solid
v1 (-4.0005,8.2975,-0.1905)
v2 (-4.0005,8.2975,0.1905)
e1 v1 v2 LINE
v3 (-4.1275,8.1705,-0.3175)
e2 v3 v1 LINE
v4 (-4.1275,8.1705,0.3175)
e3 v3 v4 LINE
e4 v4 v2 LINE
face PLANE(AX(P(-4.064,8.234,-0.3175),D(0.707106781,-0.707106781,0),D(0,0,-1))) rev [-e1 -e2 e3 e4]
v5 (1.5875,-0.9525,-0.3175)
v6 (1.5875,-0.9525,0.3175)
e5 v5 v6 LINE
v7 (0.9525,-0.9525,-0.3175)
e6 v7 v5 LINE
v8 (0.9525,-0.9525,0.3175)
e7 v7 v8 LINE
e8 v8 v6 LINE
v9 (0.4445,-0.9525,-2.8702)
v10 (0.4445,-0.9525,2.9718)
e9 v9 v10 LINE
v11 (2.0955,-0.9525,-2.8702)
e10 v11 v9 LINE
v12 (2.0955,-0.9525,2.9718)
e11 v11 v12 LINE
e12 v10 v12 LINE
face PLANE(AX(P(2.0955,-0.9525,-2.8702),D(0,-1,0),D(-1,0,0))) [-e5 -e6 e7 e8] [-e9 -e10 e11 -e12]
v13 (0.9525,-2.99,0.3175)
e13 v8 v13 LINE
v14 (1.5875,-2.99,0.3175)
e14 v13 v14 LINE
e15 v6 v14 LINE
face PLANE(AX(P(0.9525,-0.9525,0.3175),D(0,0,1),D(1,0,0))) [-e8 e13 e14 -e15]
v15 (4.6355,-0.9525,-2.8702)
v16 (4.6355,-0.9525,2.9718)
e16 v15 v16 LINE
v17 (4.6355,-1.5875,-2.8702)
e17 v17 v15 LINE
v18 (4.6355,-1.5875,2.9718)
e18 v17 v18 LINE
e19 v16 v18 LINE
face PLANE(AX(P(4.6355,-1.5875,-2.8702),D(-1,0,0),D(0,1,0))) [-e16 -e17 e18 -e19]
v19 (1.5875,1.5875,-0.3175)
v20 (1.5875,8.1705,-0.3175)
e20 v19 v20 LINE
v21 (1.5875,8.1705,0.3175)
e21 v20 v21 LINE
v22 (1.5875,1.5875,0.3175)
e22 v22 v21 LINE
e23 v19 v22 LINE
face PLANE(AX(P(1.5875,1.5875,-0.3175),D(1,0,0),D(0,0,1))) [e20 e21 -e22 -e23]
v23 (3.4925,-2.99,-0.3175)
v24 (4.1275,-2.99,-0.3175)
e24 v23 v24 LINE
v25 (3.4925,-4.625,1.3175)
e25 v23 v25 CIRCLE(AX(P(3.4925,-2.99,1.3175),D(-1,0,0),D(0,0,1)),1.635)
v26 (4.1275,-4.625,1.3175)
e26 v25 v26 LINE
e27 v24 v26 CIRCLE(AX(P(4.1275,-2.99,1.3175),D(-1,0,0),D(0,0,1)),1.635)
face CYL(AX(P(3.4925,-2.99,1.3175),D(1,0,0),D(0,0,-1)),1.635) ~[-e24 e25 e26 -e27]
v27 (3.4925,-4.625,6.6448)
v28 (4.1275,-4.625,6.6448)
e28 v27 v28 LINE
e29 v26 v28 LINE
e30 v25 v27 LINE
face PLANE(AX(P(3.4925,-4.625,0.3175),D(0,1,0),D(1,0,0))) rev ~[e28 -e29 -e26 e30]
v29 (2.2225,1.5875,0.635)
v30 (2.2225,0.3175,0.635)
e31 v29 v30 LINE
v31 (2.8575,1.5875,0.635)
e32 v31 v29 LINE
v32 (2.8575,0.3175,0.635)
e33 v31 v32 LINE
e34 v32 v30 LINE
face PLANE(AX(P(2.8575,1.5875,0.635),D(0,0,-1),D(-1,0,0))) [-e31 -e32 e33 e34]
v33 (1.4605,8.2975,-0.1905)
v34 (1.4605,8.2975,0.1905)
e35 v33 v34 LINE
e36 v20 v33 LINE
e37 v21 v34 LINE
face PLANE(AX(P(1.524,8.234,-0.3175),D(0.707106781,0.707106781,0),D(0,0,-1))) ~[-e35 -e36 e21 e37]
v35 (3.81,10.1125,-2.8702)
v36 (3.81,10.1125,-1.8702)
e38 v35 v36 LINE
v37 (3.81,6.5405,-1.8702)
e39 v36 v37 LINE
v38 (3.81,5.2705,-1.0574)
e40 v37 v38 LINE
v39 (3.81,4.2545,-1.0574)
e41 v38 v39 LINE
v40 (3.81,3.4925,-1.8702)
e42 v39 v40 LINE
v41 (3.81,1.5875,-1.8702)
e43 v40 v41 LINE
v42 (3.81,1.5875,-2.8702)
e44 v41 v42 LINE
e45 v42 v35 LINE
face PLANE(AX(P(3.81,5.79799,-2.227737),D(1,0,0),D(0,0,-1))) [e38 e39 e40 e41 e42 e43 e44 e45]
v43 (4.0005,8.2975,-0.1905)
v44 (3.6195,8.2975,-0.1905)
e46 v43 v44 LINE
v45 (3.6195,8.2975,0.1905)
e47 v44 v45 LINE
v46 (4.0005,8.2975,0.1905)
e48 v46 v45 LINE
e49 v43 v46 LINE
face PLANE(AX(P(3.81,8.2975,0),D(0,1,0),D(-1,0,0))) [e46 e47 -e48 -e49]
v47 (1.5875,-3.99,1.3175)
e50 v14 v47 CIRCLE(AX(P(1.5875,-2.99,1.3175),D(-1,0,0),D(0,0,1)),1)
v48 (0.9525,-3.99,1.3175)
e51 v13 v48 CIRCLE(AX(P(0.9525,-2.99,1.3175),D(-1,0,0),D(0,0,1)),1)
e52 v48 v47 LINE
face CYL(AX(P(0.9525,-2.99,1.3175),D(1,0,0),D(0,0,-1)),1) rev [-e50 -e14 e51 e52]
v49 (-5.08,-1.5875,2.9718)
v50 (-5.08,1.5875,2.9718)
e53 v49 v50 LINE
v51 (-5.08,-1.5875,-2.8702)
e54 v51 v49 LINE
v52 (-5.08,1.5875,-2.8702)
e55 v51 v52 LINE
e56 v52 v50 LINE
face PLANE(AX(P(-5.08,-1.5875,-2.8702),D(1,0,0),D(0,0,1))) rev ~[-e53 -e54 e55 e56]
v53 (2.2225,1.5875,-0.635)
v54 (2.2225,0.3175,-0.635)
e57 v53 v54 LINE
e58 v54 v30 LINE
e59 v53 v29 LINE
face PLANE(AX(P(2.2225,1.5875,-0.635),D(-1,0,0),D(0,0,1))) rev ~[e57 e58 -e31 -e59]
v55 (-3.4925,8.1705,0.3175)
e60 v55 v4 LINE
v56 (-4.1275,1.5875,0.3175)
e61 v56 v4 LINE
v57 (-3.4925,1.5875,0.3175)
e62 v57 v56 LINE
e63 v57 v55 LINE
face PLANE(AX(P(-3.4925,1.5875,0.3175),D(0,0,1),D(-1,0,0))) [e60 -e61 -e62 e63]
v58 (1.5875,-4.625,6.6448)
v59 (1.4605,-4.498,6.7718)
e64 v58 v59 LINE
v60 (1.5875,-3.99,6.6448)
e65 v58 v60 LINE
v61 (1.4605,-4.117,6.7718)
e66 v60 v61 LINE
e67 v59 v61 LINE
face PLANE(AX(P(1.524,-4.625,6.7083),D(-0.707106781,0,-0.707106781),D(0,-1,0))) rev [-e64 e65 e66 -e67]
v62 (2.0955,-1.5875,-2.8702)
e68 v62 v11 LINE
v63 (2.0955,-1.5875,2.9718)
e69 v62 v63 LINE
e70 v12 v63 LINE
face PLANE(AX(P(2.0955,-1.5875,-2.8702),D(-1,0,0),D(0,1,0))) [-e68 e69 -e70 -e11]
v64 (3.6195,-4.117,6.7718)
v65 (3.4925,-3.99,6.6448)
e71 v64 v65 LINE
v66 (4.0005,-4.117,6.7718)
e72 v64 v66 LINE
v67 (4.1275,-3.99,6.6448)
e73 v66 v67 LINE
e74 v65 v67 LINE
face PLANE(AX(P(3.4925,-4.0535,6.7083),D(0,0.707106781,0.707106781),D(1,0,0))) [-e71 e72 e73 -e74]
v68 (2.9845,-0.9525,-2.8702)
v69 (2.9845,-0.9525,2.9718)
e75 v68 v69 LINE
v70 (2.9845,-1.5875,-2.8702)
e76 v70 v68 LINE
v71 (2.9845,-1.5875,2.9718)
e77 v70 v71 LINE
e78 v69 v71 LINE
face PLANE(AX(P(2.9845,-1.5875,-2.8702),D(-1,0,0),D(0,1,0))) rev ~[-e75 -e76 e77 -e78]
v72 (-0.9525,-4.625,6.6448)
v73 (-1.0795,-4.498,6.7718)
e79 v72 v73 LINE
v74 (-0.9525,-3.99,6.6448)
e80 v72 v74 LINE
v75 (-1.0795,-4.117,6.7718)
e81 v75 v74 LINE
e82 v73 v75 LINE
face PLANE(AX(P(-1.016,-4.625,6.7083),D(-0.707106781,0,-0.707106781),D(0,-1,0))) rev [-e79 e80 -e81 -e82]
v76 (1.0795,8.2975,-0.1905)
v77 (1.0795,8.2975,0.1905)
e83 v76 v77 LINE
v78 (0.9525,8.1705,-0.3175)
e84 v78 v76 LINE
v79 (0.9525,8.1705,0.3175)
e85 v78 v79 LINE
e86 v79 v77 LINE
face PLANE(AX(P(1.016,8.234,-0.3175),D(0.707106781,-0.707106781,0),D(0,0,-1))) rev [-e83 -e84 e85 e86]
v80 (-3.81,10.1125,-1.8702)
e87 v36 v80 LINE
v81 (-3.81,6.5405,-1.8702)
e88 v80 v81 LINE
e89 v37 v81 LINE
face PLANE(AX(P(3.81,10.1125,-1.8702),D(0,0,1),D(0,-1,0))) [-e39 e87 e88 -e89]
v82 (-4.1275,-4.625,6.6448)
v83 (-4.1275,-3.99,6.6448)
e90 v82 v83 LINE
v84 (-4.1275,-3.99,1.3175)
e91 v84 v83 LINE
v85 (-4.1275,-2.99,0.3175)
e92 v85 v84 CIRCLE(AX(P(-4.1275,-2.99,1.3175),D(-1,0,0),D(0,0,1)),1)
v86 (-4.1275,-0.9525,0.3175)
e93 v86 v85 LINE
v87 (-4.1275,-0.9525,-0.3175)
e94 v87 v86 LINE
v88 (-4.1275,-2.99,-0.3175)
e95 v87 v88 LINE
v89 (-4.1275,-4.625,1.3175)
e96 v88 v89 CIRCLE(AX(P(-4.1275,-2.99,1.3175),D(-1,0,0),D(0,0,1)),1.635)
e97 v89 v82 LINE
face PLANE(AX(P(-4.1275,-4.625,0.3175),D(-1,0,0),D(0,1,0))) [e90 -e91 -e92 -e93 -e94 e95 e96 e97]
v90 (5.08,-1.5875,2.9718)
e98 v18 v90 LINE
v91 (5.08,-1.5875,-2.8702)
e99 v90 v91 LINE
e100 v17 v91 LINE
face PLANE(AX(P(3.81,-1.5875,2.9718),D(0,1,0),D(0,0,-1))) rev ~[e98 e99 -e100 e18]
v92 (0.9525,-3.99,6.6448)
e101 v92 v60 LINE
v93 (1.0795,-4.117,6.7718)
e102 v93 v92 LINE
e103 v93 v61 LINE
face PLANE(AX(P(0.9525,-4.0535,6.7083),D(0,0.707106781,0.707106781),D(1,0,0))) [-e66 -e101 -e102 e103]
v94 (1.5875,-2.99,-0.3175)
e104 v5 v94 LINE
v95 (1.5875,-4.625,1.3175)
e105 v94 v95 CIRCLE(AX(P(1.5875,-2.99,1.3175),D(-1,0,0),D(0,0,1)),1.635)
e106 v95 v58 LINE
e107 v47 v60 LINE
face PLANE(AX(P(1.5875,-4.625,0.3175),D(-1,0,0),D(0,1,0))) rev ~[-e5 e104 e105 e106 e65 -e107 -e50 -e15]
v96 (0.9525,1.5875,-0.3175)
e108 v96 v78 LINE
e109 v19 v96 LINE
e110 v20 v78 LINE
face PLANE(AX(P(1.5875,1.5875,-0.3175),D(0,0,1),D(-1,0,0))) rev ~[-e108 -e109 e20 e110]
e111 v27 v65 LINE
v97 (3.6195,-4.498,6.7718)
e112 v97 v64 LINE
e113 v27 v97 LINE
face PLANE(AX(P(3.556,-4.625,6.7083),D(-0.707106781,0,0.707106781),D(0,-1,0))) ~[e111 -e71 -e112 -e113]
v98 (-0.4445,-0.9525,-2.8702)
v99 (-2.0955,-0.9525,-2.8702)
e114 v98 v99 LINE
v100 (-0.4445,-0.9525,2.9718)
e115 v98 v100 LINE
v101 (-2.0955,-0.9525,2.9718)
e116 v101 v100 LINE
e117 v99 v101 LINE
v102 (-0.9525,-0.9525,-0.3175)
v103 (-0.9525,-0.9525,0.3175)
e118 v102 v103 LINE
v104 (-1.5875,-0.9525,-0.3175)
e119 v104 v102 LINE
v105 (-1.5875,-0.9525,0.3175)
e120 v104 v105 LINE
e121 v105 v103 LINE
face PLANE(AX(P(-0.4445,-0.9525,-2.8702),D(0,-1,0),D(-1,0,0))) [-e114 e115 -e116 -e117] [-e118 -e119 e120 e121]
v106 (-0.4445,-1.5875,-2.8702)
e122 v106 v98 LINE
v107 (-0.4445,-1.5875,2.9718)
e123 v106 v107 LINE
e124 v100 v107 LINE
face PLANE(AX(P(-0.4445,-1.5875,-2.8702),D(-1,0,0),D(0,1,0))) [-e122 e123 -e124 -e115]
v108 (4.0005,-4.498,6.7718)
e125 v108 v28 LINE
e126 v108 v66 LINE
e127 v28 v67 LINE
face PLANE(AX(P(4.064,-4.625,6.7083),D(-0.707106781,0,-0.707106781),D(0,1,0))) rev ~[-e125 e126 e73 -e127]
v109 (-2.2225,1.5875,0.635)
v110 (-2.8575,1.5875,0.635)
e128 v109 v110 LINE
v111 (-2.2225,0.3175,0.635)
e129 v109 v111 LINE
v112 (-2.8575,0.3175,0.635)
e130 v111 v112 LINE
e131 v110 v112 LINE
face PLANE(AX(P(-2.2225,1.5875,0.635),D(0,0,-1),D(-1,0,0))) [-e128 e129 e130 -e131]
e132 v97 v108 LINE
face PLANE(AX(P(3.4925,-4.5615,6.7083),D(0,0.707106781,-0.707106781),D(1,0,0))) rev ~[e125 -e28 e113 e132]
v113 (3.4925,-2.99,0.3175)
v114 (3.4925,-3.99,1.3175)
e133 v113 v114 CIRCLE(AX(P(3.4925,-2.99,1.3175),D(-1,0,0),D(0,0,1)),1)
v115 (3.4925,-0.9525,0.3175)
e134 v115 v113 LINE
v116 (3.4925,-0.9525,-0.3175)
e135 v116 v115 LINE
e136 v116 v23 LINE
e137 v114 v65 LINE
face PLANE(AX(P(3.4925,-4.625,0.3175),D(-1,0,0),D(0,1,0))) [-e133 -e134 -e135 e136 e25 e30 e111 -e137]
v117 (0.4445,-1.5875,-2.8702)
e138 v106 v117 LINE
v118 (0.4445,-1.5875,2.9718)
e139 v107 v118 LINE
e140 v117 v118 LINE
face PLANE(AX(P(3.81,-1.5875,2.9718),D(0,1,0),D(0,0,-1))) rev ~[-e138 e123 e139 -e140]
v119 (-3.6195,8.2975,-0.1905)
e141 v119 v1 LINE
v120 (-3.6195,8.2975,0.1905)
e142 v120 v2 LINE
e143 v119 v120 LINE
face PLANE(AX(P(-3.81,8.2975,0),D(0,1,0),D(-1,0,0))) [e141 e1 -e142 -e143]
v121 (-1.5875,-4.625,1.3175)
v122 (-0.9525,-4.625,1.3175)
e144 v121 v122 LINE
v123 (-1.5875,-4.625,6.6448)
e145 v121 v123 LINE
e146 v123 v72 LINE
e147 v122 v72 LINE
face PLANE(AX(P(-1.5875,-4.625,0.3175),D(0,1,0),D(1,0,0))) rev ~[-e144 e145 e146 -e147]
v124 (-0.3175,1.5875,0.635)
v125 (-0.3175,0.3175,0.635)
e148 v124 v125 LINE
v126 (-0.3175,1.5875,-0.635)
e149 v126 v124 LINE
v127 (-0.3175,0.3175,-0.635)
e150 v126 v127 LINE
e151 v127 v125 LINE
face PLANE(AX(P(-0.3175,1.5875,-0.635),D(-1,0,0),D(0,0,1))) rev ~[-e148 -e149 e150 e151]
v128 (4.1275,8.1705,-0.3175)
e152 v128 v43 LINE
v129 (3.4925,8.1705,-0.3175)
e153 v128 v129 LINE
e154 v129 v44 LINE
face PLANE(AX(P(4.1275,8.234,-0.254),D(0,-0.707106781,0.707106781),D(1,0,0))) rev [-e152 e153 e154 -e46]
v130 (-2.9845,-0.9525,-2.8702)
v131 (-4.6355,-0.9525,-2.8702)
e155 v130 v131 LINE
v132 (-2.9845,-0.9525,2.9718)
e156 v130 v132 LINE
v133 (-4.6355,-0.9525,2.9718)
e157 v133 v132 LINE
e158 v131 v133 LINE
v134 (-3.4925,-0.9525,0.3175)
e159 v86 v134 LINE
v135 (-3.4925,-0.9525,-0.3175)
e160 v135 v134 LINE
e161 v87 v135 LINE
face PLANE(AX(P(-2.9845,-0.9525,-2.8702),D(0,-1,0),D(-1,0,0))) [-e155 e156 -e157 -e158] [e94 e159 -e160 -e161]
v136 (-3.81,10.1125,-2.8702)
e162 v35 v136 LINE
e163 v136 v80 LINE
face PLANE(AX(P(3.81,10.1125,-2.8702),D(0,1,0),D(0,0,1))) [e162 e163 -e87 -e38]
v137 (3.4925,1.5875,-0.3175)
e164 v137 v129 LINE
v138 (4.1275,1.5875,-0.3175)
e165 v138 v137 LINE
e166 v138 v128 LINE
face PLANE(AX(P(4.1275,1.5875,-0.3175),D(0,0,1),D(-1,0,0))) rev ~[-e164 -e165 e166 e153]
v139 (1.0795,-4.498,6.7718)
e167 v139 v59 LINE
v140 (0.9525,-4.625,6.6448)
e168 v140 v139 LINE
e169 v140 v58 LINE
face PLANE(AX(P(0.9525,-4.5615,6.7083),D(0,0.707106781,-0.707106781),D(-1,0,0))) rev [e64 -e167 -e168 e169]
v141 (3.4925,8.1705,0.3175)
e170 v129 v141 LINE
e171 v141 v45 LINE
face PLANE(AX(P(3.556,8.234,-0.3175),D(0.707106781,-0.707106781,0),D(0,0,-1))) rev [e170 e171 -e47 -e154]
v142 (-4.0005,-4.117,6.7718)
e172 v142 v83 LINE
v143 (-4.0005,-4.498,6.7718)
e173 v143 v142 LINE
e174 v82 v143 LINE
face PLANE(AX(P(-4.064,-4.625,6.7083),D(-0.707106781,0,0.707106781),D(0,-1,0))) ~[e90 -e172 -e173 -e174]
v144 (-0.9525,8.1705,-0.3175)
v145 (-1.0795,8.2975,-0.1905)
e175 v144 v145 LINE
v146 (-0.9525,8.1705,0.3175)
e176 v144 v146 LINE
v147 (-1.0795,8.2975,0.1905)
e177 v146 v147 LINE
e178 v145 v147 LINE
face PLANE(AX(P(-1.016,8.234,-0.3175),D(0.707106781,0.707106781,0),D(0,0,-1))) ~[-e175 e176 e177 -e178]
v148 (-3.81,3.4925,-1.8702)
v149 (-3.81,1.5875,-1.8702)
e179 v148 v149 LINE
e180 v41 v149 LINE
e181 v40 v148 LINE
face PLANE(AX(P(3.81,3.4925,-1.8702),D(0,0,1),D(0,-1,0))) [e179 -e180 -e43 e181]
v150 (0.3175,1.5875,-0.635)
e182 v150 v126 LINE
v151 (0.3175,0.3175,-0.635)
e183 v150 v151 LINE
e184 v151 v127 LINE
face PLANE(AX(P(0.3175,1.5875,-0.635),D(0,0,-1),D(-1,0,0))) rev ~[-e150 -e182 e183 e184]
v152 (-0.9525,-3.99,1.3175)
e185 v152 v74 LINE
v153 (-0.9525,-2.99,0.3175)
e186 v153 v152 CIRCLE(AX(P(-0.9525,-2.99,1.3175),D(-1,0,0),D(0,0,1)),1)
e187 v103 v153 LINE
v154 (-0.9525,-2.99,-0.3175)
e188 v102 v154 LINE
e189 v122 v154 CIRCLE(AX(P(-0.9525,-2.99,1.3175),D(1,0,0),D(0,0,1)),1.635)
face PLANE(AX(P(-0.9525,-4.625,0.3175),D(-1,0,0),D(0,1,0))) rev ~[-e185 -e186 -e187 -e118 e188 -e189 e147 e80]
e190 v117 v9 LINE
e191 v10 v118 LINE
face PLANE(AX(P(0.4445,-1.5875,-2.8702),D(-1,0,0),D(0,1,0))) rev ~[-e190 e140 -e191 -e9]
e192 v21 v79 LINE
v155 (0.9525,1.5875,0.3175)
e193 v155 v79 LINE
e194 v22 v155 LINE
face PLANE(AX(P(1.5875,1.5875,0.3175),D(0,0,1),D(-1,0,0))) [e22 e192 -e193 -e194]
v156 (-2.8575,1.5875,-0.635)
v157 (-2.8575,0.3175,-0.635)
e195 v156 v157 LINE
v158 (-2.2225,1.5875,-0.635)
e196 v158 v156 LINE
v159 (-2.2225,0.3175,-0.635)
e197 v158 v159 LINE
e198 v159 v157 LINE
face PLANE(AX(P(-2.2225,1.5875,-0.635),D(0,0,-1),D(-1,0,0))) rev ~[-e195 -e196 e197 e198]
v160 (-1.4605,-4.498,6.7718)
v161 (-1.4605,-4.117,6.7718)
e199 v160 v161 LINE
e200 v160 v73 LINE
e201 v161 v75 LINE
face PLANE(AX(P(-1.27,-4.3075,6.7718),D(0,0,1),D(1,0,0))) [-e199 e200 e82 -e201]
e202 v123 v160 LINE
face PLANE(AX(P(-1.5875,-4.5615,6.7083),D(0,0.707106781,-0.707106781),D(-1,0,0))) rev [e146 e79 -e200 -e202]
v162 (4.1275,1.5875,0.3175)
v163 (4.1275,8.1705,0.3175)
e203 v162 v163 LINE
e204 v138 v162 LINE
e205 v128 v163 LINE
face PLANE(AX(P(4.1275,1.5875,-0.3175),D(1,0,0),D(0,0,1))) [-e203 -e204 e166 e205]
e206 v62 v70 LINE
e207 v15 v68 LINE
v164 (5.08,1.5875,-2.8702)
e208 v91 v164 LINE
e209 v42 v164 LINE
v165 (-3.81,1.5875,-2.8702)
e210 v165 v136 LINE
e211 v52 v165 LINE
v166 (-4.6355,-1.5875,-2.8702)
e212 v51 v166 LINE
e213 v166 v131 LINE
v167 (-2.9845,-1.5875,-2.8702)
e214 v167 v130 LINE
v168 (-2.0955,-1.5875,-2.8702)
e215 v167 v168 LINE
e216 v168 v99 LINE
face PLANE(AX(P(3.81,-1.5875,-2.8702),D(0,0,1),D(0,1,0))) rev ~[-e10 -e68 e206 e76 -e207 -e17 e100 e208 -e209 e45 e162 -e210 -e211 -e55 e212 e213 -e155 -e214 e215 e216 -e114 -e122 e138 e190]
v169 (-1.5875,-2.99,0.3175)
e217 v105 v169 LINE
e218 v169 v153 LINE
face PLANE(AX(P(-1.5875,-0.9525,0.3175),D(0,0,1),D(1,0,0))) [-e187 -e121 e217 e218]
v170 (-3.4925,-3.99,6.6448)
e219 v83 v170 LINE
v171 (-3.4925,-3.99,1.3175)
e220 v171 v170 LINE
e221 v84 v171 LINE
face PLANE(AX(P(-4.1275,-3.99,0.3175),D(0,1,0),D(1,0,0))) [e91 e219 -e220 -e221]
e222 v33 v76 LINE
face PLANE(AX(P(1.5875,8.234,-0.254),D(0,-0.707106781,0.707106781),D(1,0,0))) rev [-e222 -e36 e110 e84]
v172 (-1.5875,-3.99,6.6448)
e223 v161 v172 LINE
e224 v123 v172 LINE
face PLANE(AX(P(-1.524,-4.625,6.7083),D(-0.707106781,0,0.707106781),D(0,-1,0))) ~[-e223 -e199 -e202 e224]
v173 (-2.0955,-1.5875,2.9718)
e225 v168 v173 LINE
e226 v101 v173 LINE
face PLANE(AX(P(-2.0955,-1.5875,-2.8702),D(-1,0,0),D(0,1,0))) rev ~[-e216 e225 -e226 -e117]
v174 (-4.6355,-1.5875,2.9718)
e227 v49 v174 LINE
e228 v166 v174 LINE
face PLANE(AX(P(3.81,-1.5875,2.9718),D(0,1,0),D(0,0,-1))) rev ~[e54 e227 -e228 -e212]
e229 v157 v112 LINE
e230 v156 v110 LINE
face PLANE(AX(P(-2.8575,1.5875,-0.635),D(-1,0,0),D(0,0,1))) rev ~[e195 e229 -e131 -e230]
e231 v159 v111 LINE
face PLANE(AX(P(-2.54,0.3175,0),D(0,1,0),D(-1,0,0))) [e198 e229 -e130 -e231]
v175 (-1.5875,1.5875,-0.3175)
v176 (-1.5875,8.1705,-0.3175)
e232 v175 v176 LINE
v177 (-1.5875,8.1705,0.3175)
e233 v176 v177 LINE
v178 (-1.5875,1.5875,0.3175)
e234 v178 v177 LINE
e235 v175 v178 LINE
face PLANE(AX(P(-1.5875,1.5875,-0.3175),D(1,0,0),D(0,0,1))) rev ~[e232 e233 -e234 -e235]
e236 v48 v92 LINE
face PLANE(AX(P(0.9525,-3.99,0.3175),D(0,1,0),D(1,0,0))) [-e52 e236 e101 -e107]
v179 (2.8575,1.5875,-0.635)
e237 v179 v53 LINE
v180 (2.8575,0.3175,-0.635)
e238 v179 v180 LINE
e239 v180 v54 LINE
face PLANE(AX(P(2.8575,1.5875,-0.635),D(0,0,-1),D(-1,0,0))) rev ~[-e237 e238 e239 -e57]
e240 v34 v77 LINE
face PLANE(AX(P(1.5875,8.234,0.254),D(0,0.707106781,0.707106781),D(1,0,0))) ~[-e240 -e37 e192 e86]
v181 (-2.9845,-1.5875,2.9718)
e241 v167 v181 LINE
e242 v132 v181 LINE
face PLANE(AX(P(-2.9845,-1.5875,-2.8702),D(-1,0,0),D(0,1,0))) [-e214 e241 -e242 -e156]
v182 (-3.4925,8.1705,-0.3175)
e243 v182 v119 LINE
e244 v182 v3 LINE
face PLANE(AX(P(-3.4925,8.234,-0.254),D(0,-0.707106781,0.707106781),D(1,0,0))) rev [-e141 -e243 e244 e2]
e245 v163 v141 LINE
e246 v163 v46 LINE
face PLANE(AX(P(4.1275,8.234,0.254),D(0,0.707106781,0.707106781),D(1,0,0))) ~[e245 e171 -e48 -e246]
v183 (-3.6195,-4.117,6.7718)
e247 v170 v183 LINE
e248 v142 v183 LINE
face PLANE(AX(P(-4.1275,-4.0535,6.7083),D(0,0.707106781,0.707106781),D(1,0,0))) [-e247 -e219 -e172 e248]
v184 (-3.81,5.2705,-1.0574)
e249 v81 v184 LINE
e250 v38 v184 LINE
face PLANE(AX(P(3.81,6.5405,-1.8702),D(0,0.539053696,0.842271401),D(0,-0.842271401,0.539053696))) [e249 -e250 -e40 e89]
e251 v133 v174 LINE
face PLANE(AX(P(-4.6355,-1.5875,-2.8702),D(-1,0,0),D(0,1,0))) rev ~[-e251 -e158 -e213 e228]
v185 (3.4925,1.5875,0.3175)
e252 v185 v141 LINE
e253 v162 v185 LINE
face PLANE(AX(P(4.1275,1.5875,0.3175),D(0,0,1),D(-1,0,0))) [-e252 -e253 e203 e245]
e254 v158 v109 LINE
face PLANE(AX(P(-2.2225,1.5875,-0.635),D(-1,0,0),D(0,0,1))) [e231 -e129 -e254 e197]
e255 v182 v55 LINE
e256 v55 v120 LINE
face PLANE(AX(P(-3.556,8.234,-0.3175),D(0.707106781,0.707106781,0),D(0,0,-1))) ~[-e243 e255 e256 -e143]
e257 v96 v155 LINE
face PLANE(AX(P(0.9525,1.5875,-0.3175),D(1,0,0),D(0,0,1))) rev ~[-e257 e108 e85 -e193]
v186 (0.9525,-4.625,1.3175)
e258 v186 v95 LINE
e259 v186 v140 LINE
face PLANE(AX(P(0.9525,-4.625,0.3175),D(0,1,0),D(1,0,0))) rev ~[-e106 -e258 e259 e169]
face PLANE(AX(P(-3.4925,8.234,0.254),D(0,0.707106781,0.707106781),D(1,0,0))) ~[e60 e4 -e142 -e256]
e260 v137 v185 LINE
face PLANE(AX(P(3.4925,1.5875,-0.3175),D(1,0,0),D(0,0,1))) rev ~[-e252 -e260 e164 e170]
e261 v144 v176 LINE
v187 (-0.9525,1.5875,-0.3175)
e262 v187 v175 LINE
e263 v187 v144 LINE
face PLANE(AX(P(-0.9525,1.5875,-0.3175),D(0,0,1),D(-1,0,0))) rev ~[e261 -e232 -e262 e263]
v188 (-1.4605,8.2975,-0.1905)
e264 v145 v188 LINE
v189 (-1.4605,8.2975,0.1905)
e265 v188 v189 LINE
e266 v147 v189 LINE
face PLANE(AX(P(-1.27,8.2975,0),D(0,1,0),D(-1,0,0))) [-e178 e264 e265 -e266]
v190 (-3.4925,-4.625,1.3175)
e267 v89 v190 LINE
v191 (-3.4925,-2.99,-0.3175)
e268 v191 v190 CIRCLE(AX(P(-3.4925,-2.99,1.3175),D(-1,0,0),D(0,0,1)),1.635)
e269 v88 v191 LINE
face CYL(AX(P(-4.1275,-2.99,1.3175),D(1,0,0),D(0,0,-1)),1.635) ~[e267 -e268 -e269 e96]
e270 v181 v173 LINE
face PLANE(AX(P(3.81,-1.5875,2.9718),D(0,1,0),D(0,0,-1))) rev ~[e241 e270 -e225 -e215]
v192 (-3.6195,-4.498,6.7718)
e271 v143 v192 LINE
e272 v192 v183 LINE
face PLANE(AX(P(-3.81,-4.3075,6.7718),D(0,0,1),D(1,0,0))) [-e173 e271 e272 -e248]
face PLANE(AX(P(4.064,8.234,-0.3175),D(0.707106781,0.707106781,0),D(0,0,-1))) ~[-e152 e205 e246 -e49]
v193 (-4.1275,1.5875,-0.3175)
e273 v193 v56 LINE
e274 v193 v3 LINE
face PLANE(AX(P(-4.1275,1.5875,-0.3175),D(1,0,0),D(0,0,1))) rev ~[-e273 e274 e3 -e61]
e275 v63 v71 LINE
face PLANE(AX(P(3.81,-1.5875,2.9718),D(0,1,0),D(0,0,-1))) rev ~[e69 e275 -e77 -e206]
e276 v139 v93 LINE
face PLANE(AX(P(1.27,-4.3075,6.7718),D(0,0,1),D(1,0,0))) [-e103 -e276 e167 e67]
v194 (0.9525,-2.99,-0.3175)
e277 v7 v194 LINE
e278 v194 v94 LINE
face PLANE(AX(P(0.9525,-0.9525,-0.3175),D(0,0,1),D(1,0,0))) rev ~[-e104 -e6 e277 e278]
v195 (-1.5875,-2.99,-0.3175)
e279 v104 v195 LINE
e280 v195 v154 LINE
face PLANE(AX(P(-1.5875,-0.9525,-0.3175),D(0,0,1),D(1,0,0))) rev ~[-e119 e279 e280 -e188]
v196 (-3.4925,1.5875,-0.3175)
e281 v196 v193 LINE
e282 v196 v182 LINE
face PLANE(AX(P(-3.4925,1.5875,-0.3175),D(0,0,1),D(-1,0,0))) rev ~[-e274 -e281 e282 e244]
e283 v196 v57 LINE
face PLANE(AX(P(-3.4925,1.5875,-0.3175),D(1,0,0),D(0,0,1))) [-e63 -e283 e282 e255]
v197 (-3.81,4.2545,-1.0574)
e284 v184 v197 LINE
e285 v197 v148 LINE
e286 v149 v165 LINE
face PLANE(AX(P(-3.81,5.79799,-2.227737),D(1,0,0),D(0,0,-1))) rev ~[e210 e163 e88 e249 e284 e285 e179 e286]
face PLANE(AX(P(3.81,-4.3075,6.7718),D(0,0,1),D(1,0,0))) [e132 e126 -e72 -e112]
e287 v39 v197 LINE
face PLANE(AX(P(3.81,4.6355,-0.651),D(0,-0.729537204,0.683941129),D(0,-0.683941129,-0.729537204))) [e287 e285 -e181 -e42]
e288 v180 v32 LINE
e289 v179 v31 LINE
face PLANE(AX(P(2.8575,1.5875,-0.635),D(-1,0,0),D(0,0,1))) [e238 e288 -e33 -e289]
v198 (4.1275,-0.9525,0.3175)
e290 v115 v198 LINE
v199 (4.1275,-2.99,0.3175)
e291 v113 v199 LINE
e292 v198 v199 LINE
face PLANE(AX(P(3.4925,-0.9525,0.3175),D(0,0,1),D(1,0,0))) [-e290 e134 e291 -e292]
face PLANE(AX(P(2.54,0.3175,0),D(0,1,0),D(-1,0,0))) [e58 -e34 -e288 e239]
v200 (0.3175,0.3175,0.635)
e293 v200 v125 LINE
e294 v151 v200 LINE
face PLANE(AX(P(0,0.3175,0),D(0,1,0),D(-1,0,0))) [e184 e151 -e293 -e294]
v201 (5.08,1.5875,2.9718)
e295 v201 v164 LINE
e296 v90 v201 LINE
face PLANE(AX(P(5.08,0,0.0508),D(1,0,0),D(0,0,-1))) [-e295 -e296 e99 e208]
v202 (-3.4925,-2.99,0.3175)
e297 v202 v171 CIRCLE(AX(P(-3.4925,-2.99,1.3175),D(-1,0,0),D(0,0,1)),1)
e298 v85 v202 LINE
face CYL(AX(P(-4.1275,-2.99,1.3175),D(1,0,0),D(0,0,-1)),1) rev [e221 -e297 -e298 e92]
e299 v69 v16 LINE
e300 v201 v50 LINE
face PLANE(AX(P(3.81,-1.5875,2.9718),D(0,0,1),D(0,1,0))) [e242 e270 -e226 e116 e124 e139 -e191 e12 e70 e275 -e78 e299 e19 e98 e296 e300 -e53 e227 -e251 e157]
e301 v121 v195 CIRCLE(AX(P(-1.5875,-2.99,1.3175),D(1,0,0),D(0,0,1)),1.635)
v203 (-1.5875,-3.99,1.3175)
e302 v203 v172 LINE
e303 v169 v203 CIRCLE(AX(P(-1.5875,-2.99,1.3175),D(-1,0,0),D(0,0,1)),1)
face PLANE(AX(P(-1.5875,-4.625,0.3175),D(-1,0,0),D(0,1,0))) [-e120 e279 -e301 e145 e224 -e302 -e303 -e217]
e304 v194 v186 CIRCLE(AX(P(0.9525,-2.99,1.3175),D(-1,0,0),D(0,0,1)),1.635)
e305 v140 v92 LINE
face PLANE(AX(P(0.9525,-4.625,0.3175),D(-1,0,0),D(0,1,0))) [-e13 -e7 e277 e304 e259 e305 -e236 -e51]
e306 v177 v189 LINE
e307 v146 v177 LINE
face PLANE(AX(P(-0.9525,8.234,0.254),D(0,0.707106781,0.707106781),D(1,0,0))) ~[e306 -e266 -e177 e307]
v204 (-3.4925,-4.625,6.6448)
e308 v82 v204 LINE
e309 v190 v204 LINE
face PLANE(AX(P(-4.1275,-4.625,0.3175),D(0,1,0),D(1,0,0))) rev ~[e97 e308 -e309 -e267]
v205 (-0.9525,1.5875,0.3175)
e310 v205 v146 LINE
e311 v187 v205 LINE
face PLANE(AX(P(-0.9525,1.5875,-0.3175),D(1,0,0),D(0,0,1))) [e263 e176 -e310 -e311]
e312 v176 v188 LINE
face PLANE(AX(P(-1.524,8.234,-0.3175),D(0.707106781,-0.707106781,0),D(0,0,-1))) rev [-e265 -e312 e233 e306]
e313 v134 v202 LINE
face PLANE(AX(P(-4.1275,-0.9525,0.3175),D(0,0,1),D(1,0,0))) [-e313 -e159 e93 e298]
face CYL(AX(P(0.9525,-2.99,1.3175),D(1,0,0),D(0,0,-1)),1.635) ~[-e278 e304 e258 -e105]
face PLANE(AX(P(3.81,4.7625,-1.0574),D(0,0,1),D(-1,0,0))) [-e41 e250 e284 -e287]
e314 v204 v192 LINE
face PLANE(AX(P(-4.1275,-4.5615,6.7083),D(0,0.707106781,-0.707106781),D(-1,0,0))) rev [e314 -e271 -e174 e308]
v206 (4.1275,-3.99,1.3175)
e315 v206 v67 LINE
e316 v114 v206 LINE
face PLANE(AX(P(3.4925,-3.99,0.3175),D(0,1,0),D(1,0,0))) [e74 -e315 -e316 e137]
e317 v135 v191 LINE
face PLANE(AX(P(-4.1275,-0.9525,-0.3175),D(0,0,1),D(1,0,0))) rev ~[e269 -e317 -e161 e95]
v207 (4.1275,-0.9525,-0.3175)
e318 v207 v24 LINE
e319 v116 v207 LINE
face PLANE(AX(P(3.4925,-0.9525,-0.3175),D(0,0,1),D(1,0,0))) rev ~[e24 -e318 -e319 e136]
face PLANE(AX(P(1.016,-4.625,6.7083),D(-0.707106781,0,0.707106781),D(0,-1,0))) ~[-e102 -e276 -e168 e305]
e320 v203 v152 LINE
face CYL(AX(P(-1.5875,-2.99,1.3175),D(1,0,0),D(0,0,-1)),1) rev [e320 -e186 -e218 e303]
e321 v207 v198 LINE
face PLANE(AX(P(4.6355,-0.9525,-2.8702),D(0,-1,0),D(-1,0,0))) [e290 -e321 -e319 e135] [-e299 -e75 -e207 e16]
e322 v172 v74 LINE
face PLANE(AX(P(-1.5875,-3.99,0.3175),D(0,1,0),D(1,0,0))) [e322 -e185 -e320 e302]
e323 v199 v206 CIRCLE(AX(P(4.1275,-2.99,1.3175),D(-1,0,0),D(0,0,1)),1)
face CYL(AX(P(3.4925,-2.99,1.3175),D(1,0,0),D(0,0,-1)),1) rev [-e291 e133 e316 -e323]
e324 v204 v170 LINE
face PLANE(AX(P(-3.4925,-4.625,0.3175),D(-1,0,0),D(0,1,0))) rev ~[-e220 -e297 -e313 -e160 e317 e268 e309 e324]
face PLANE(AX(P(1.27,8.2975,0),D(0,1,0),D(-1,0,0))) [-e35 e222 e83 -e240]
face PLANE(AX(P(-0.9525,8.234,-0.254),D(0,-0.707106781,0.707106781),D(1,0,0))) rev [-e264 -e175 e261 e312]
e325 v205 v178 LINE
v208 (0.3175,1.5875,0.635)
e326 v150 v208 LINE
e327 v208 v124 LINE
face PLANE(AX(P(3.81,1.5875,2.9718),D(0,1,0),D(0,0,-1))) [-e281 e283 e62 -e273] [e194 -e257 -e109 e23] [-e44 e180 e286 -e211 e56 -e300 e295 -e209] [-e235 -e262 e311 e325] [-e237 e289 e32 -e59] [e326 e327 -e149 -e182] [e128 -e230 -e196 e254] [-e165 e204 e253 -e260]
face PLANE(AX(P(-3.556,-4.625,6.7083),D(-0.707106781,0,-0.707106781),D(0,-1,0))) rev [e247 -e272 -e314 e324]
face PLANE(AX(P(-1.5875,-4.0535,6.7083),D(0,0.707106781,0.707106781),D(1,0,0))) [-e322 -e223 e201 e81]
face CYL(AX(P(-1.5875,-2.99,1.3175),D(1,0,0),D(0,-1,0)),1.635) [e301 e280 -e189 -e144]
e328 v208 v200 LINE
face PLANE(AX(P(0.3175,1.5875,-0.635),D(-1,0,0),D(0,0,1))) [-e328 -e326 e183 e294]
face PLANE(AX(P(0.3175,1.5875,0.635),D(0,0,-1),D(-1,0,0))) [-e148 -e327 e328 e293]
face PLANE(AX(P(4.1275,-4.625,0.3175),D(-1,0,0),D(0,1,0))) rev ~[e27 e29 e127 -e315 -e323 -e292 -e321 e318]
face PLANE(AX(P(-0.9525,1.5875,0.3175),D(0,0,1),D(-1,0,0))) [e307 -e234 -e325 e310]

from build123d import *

# Parameters (mm, degrees)
SKETCH1_W            = 8.89
SKETCH1_H            = 5.842
BOSS_EXTRUDE1_DEPTH  = 3.175
BOSS_EXTRUDE2_DEPTH  = 7.62
SKETCH3_W            = 5.842
SKETCH3_H            = 3.175
BOSS_EXTRUDE3_DEPTH  = 1.27
SKETCH4_W            = 1.651
SKETCH4_H            = 0.635
CUT_EXTRUDE1_DEPTH   = 13.735698656
SKETCH5_W            = 0.635
SKETCH5_H            = 0.635
BOSS_EXTRUDE4_DEPTH  = 3.6725
SKETCH6_W            = 0.635
SKETCH6_H            = 0.635
BOSS_EXTRUDE5_DEPTH  = 6.4543
SKETCH7_W            = 1.651
SKETCH7_H            = 0.635
CUT_EXTRUDE2_DEPTH   = 15.867320547
SKETCH8_W            = 0.635
SKETCH8_H            = 0.635
BOSS_EXTRUDE6_DEPTH  = 3.6725
SKETCH9_W            = 0.635
SKETCH9_H            = 0.635
BOSS_EXTRUDE7_DEPTH  = 6.4543
SKETCH10_W           = 1.651
SKETCH10_H           = 0.635
CUT_EXTRUDE3_DEPTH   = 15.867320547
SKETCH11_W           = 0.635
SKETCH11_H           = 0.635
BOSS_EXTRUDE8_DEPTH  = 3.6725
SKETCH12_W           = 0.635
SKETCH12_H           = 0.635
BOSS_EXTRUDE9_DEPTH  = 6.4543
SKETCH13_W           = 1.651
SKETCH13_H           = 0.635
CUT_EXTRUDE4_DEPTH   = 15.867320547
SKETCH14_W           = 0.635
SKETCH14_H           = 0.635
BOSS_EXTRUDE10_DEPTH = 3.6725
SKETCH15_W           = 0.635
SKETCH15_H           = 0.635
BOSS_EXTRUDE11_DEPTH = 6.4543
SKETCH16_W           = 0.635
SKETCH16_H           = 0.635
BOSS_EXTRUDE12_DEPTH = 6.71
SKETCH17_W           = 0.635
SKETCH17_H           = 0.635
BOSS_EXTRUDE13_DEPTH = 6.71
SKETCH18_W           = 0.635
SKETCH18_H           = 0.635
BOSS_EXTRUDE14_DEPTH = 6.71
SKETCH19_W           = 0.635
SKETCH19_H           = 0.635
BOSS_EXTRUDE15_DEPTH = 6.71
SKETCH20_W           = 0.635
SKETCH20_H           = 1.27
CUT_EXTRUDE5_DEPTH   = 1.27
SKETCH21_W           = 0.635
SKETCH21_H           = 1.27
CUT_EXTRUDE6_DEPTH   = 1.27
SKETCH22_W           = 0.635
SKETCH22_H           = 1.27
CUT_EXTRUDE7_DEPTH   = 1.27
CHAMFER1_SIZE        = 0.127
CHAMFER2_SIZE        = 0.753913762
CHAMFER2_SIZE2       = 0.55706549
FILLET1_R            = 1
FILLET2_R            = 1.635


with BuildPart() as part:
    # Sketch1 → Boss-Extrude1 (new body)
    with BuildSketch(Plane.XZ.offset(1.5875)):
        with Locations((-0.635, 0.0508)):
            Rectangle(SKETCH1_W, SKETCH1_H)
    extrude(amount=-BOSS_EXTRUDE1_DEPTH)

    # Sketch2 → Boss-Extrude2 (add)
    with BuildSketch(Plane(origin=(3.81, 0, 0), x_dir=(0, 0, -1), z_dir=(1, 0, 0))):
        Polygon((0.651, 4.6355), (1.8702, 3.4925), (1.8702, 1.5875), (2.8702, 1.5875), (2.8702, 10.1125), (1.8702, 10.1125), (1.8702, 6.5405), align=None)
    extrude(amount=-BOSS_EXTRUDE2_DEPTH)

    # Sketch3 → Boss-Extrude3 (add)
    with BuildSketch(Plane(origin=(3.81, 0, 0), x_dir=(0, 0, -1), z_dir=(1, 0, 0))):
        with Locations((-0.0508, 0)):
            Rectangle(SKETCH3_W, SKETCH3_H)
    extrude(amount=BOSS_EXTRUDE3_DEPTH)

    # Sketch4 → Cut-Extrude1 (cut, through all)
    with BuildSketch(Plane(origin=(0, 0, -2.8702), x_dir=(-1, 0, 0), z_dir=(0, 0, -1))):
        with Locations((1.27, -1.27)):
            Rectangle(SKETCH4_W, SKETCH4_H)
    extrude(amount=-CUT_EXTRUDE1_DEPTH, mode=Mode.SUBTRACT)

    # Sketch5 → Boss-Extrude4 (add)
    with BuildSketch(Plane.XZ.offset(0.9525)):
        with Locations((-1.27, 0)):
            Rectangle(SKETCH5_W, SKETCH5_H)
    extrude(amount=BOSS_EXTRUDE4_DEPTH)

    # Sketch6 → Boss-Extrude5 (add)
    with BuildSketch(Plane.XY.offset(0.3175)):
        with Locations((-1.27, -4.3075)):
            Rectangle(SKETCH6_W, SKETCH6_H)
    extrude(amount=BOSS_EXTRUDE5_DEPTH)

    # Sketch7 → Cut-Extrude2 (cut, through all)
    with BuildSketch(Plane(origin=(0, 0, -2.8702), x_dir=(-1, 0, 0), z_dir=(0, 0, -1))):
        with Locations((-1.27, -1.27)):
            Rectangle(SKETCH7_W, SKETCH7_H)
    extrude(amount=-CUT_EXTRUDE2_DEPTH, mode=Mode.SUBTRACT)

    # Sketch8 → Boss-Extrude6 (add)
    with BuildSketch(Plane.XZ.offset(0.9525)):
        with Locations((1.27, 0)):
            Rectangle(SKETCH8_W, SKETCH8_H)
    extrude(amount=BOSS_EXTRUDE6_DEPTH)

    # Sketch9 → Boss-Extrude7 (add)
    with BuildSketch(Plane.XY.offset(0.3175)):
        with Locations((1.27, -4.3075)):
            Rectangle(SKETCH9_W, SKETCH9_H)
    extrude(amount=BOSS_EXTRUDE7_DEPTH)

    # Sketch10 → Cut-Extrude3 (cut, through all)
    with BuildSketch(Plane(origin=(0, 0, -2.8702), x_dir=(-1, 0, 0), z_dir=(0, 0, -1))):
        with Locations((3.81, -1.27)):
            Rectangle(SKETCH10_W, SKETCH10_H)
    extrude(amount=-CUT_EXTRUDE3_DEPTH, mode=Mode.SUBTRACT)

    # Sketch11 → Boss-Extrude8 (add)
    with BuildSketch(Plane.XZ.offset(0.9525)):
        with Locations((-3.81, 0)):
            Rectangle(SKETCH11_W, SKETCH11_H)
    extrude(amount=BOSS_EXTRUDE8_DEPTH)

    # Sketch12 → Boss-Extrude9 (add)
    with BuildSketch(Plane.XY.offset(0.3175)):
        with Locations((-3.81, -4.3075)):
            Rectangle(SKETCH12_W, SKETCH12_H)
    extrude(amount=BOSS_EXTRUDE9_DEPTH)

    # Sketch13 → Cut-Extrude4 (cut, through all)
    with BuildSketch(Plane(origin=(0, 0, -2.8702), x_dir=(-1, 0, 0), z_dir=(0, 0, -1))):
        with Locations((-3.81, -1.27)):
            Rectangle(SKETCH13_W, SKETCH13_H)
    extrude(amount=-CUT_EXTRUDE4_DEPTH, mode=Mode.SUBTRACT)

    # Sketch14 → Boss-Extrude10 (add)
    with BuildSketch(Plane.XZ.offset(0.9525)):
        with Locations((3.81, 0)):
            Rectangle(SKETCH14_W, SKETCH14_H)
    extrude(amount=BOSS_EXTRUDE10_DEPTH)

    # Sketch15 → Boss-Extrude11 (add)
    with BuildSketch(Plane.XY.offset(0.3175)):
        with Locations((3.81, -4.3075)):
            Rectangle(SKETCH15_W, SKETCH15_H)
    extrude(amount=BOSS_EXTRUDE11_DEPTH)

    # Sketch16 → Boss-Extrude12 (add)
    with BuildSketch(Plane(origin=(0, 1.5875, 0), x_dir=(-1, 0, 0), z_dir=(0, 1, 0))):
        with Locations((-3.81, 0)):
            Rectangle(SKETCH16_W, SKETCH16_H)
    extrude(amount=BOSS_EXTRUDE12_DEPTH)

    # Sketch17 → Boss-Extrude13 (add)
    with BuildSketch(Plane(origin=(0, 1.5875, 0), x_dir=(-1, 0, 0), z_dir=(0, 1, 0))):
        with Locations((-1.27, 0)):
            Rectangle(SKETCH17_W, SKETCH17_H)
    extrude(amount=BOSS_EXTRUDE13_DEPTH)

    # Sketch18 → Boss-Extrude14 (add)
    with BuildSketch(Plane(origin=(0, 1.5875, 0), x_dir=(-1, 0, 0), z_dir=(0, 1, 0))):
        with Locations((1.27, 0)):
            Rectangle(SKETCH18_W, SKETCH18_H)
    extrude(amount=BOSS_EXTRUDE14_DEPTH)

    # Sketch19 → Boss-Extrude15 (add)
    with BuildSketch(Plane(origin=(0, 1.5875, 0), x_dir=(-1, 0, 0), z_dir=(0, 1, 0))):
        with Locations((3.81, 0)):
            Rectangle(SKETCH19_W, SKETCH19_H)
    extrude(amount=BOSS_EXTRUDE15_DEPTH)

    # Sketch20 → Cut-Extrude5 (cut)
    with BuildSketch(Plane(origin=(0, 1.5875, 0), x_dir=(-1, 0, 0), z_dir=(0, 1, 0))):
        with Locations((-2.54, 0)):
            Rectangle(SKETCH20_W, SKETCH20_H)
    extrude(amount=-CUT_EXTRUDE5_DEPTH, mode=Mode.SUBTRACT)

    # Sketch21 → Cut-Extrude6 (cut)
    with BuildSketch(Plane(origin=(0, 1.5875, 0), x_dir=(-1, 0, 0), z_dir=(0, 1, 0))):
        Rectangle(SKETCH21_W, SKETCH21_H)
    extrude(amount=-CUT_EXTRUDE6_DEPTH, mode=Mode.SUBTRACT)

    # Sketch22 → Cut-Extrude7 (cut)
    with BuildSketch(Plane(origin=(0, 1.5875, 0), x_dir=(-1, 0, 0), z_dir=(0, 1, 0))):
        with Locations((2.54, 0)):
            Rectangle(SKETCH22_W, SKETCH22_H)
    extrude(amount=-CUT_EXTRUDE7_DEPTH, mode=Mode.SUBTRACT)

    # Chamfer1
    chamfer1_edges = [part.edges().sort_by_distance(p)[0] for p in [
        (1.5875, -4.3075, 6.7718),
        (1.27, -3.99, 6.7718),
        (0.9525, -4.3075, 6.7718),
        (1.27, -4.625, 6.7718),
        (-3.4925, -4.3075, 6.7718),
        (-3.81, -3.99, 6.7718),
        (-4.1275, -4.3075, 6.7718),
        (-3.81, -4.625, 6.7718),
        (4.1275, -4.3075, 6.7718),
        (3.81, -3.99, 6.7718),
        (3.4925, -4.3075, 6.7718),
        (3.81, -4.625, 6.7718),
        (4.1275, 8.2975, 0),
        (3.81, 8.2975, -0.3175),
        (3.4925, 8.2975, 0),
        (3.81, 8.2975, 0.3175),
        (0.9525, 8.2975, 0),
        (1.27, 8.2975, 0.3175),
        (1.5875, 8.2975, 0),
        (1.27, 8.2975, -0.3175),
        (-0.9525, 8.2975, 0),
        (-1.27, 8.2975, -0.3175),
        (-1.5875, 8.2975, 0),
        (-1.27, 8.2975, 0.3175),
        (-3.81, 8.2975, -0.3175),
        (-4.1275, 8.2975, 0),
        (-3.81, 8.2975, 0.3175),
        (-3.4925, 8.2975, 0),
        (-1.27, -3.99, 6.7718),
        (-1.5875, -4.3075, 6.7718),
        (-1.27, -4.625, 6.7718),
        (-0.9525, -4.3075, 6.7718),
    ]]
    chamfer(chamfer1_edges, length=CHAMFER1_SIZE)

    # Chamfer2
    chamfer2_edges = [part.edges().sort_by_distance(p)[0] for p in [
        (0, 4.6355, -0.651),
    ]]
    chamfer2_side = [part.faces().sort_by_distance(p)[0] for p in [
        (0, 5.588, -1.2606),
    ]]
    chamfer(chamfer2_edges, length=CHAMFER2_SIZE, length2=CHAMFER2_SIZE2, reference=chamfer2_side[0])

    # Fillet1
    fillet1_edges = [part.edges().sort_by_distance(p)[0] for p in [
        (1.27, -3.99, 0.3175),
        (-3.81, -3.99, 0.3175),
        (3.81, -3.99, 0.3175),
        (-1.27, -3.99, 0.3175),
    ]]
    fillet(fillet1_edges, radius=FILLET1_R)

    # Fillet2
    fillet2_edges = [part.edges().sort_by_distance(p)[0] for p in [
        (1.27, -4.625, -0.3175),
        (-3.81, -4.625, -0.3175),
        (3.81, -4.625, -0.3175),
        (-1.27, -4.625, -0.3175),
    ]]
    fillet(fillet2_edges, radius=FILLET2_R)


solid = part.part
